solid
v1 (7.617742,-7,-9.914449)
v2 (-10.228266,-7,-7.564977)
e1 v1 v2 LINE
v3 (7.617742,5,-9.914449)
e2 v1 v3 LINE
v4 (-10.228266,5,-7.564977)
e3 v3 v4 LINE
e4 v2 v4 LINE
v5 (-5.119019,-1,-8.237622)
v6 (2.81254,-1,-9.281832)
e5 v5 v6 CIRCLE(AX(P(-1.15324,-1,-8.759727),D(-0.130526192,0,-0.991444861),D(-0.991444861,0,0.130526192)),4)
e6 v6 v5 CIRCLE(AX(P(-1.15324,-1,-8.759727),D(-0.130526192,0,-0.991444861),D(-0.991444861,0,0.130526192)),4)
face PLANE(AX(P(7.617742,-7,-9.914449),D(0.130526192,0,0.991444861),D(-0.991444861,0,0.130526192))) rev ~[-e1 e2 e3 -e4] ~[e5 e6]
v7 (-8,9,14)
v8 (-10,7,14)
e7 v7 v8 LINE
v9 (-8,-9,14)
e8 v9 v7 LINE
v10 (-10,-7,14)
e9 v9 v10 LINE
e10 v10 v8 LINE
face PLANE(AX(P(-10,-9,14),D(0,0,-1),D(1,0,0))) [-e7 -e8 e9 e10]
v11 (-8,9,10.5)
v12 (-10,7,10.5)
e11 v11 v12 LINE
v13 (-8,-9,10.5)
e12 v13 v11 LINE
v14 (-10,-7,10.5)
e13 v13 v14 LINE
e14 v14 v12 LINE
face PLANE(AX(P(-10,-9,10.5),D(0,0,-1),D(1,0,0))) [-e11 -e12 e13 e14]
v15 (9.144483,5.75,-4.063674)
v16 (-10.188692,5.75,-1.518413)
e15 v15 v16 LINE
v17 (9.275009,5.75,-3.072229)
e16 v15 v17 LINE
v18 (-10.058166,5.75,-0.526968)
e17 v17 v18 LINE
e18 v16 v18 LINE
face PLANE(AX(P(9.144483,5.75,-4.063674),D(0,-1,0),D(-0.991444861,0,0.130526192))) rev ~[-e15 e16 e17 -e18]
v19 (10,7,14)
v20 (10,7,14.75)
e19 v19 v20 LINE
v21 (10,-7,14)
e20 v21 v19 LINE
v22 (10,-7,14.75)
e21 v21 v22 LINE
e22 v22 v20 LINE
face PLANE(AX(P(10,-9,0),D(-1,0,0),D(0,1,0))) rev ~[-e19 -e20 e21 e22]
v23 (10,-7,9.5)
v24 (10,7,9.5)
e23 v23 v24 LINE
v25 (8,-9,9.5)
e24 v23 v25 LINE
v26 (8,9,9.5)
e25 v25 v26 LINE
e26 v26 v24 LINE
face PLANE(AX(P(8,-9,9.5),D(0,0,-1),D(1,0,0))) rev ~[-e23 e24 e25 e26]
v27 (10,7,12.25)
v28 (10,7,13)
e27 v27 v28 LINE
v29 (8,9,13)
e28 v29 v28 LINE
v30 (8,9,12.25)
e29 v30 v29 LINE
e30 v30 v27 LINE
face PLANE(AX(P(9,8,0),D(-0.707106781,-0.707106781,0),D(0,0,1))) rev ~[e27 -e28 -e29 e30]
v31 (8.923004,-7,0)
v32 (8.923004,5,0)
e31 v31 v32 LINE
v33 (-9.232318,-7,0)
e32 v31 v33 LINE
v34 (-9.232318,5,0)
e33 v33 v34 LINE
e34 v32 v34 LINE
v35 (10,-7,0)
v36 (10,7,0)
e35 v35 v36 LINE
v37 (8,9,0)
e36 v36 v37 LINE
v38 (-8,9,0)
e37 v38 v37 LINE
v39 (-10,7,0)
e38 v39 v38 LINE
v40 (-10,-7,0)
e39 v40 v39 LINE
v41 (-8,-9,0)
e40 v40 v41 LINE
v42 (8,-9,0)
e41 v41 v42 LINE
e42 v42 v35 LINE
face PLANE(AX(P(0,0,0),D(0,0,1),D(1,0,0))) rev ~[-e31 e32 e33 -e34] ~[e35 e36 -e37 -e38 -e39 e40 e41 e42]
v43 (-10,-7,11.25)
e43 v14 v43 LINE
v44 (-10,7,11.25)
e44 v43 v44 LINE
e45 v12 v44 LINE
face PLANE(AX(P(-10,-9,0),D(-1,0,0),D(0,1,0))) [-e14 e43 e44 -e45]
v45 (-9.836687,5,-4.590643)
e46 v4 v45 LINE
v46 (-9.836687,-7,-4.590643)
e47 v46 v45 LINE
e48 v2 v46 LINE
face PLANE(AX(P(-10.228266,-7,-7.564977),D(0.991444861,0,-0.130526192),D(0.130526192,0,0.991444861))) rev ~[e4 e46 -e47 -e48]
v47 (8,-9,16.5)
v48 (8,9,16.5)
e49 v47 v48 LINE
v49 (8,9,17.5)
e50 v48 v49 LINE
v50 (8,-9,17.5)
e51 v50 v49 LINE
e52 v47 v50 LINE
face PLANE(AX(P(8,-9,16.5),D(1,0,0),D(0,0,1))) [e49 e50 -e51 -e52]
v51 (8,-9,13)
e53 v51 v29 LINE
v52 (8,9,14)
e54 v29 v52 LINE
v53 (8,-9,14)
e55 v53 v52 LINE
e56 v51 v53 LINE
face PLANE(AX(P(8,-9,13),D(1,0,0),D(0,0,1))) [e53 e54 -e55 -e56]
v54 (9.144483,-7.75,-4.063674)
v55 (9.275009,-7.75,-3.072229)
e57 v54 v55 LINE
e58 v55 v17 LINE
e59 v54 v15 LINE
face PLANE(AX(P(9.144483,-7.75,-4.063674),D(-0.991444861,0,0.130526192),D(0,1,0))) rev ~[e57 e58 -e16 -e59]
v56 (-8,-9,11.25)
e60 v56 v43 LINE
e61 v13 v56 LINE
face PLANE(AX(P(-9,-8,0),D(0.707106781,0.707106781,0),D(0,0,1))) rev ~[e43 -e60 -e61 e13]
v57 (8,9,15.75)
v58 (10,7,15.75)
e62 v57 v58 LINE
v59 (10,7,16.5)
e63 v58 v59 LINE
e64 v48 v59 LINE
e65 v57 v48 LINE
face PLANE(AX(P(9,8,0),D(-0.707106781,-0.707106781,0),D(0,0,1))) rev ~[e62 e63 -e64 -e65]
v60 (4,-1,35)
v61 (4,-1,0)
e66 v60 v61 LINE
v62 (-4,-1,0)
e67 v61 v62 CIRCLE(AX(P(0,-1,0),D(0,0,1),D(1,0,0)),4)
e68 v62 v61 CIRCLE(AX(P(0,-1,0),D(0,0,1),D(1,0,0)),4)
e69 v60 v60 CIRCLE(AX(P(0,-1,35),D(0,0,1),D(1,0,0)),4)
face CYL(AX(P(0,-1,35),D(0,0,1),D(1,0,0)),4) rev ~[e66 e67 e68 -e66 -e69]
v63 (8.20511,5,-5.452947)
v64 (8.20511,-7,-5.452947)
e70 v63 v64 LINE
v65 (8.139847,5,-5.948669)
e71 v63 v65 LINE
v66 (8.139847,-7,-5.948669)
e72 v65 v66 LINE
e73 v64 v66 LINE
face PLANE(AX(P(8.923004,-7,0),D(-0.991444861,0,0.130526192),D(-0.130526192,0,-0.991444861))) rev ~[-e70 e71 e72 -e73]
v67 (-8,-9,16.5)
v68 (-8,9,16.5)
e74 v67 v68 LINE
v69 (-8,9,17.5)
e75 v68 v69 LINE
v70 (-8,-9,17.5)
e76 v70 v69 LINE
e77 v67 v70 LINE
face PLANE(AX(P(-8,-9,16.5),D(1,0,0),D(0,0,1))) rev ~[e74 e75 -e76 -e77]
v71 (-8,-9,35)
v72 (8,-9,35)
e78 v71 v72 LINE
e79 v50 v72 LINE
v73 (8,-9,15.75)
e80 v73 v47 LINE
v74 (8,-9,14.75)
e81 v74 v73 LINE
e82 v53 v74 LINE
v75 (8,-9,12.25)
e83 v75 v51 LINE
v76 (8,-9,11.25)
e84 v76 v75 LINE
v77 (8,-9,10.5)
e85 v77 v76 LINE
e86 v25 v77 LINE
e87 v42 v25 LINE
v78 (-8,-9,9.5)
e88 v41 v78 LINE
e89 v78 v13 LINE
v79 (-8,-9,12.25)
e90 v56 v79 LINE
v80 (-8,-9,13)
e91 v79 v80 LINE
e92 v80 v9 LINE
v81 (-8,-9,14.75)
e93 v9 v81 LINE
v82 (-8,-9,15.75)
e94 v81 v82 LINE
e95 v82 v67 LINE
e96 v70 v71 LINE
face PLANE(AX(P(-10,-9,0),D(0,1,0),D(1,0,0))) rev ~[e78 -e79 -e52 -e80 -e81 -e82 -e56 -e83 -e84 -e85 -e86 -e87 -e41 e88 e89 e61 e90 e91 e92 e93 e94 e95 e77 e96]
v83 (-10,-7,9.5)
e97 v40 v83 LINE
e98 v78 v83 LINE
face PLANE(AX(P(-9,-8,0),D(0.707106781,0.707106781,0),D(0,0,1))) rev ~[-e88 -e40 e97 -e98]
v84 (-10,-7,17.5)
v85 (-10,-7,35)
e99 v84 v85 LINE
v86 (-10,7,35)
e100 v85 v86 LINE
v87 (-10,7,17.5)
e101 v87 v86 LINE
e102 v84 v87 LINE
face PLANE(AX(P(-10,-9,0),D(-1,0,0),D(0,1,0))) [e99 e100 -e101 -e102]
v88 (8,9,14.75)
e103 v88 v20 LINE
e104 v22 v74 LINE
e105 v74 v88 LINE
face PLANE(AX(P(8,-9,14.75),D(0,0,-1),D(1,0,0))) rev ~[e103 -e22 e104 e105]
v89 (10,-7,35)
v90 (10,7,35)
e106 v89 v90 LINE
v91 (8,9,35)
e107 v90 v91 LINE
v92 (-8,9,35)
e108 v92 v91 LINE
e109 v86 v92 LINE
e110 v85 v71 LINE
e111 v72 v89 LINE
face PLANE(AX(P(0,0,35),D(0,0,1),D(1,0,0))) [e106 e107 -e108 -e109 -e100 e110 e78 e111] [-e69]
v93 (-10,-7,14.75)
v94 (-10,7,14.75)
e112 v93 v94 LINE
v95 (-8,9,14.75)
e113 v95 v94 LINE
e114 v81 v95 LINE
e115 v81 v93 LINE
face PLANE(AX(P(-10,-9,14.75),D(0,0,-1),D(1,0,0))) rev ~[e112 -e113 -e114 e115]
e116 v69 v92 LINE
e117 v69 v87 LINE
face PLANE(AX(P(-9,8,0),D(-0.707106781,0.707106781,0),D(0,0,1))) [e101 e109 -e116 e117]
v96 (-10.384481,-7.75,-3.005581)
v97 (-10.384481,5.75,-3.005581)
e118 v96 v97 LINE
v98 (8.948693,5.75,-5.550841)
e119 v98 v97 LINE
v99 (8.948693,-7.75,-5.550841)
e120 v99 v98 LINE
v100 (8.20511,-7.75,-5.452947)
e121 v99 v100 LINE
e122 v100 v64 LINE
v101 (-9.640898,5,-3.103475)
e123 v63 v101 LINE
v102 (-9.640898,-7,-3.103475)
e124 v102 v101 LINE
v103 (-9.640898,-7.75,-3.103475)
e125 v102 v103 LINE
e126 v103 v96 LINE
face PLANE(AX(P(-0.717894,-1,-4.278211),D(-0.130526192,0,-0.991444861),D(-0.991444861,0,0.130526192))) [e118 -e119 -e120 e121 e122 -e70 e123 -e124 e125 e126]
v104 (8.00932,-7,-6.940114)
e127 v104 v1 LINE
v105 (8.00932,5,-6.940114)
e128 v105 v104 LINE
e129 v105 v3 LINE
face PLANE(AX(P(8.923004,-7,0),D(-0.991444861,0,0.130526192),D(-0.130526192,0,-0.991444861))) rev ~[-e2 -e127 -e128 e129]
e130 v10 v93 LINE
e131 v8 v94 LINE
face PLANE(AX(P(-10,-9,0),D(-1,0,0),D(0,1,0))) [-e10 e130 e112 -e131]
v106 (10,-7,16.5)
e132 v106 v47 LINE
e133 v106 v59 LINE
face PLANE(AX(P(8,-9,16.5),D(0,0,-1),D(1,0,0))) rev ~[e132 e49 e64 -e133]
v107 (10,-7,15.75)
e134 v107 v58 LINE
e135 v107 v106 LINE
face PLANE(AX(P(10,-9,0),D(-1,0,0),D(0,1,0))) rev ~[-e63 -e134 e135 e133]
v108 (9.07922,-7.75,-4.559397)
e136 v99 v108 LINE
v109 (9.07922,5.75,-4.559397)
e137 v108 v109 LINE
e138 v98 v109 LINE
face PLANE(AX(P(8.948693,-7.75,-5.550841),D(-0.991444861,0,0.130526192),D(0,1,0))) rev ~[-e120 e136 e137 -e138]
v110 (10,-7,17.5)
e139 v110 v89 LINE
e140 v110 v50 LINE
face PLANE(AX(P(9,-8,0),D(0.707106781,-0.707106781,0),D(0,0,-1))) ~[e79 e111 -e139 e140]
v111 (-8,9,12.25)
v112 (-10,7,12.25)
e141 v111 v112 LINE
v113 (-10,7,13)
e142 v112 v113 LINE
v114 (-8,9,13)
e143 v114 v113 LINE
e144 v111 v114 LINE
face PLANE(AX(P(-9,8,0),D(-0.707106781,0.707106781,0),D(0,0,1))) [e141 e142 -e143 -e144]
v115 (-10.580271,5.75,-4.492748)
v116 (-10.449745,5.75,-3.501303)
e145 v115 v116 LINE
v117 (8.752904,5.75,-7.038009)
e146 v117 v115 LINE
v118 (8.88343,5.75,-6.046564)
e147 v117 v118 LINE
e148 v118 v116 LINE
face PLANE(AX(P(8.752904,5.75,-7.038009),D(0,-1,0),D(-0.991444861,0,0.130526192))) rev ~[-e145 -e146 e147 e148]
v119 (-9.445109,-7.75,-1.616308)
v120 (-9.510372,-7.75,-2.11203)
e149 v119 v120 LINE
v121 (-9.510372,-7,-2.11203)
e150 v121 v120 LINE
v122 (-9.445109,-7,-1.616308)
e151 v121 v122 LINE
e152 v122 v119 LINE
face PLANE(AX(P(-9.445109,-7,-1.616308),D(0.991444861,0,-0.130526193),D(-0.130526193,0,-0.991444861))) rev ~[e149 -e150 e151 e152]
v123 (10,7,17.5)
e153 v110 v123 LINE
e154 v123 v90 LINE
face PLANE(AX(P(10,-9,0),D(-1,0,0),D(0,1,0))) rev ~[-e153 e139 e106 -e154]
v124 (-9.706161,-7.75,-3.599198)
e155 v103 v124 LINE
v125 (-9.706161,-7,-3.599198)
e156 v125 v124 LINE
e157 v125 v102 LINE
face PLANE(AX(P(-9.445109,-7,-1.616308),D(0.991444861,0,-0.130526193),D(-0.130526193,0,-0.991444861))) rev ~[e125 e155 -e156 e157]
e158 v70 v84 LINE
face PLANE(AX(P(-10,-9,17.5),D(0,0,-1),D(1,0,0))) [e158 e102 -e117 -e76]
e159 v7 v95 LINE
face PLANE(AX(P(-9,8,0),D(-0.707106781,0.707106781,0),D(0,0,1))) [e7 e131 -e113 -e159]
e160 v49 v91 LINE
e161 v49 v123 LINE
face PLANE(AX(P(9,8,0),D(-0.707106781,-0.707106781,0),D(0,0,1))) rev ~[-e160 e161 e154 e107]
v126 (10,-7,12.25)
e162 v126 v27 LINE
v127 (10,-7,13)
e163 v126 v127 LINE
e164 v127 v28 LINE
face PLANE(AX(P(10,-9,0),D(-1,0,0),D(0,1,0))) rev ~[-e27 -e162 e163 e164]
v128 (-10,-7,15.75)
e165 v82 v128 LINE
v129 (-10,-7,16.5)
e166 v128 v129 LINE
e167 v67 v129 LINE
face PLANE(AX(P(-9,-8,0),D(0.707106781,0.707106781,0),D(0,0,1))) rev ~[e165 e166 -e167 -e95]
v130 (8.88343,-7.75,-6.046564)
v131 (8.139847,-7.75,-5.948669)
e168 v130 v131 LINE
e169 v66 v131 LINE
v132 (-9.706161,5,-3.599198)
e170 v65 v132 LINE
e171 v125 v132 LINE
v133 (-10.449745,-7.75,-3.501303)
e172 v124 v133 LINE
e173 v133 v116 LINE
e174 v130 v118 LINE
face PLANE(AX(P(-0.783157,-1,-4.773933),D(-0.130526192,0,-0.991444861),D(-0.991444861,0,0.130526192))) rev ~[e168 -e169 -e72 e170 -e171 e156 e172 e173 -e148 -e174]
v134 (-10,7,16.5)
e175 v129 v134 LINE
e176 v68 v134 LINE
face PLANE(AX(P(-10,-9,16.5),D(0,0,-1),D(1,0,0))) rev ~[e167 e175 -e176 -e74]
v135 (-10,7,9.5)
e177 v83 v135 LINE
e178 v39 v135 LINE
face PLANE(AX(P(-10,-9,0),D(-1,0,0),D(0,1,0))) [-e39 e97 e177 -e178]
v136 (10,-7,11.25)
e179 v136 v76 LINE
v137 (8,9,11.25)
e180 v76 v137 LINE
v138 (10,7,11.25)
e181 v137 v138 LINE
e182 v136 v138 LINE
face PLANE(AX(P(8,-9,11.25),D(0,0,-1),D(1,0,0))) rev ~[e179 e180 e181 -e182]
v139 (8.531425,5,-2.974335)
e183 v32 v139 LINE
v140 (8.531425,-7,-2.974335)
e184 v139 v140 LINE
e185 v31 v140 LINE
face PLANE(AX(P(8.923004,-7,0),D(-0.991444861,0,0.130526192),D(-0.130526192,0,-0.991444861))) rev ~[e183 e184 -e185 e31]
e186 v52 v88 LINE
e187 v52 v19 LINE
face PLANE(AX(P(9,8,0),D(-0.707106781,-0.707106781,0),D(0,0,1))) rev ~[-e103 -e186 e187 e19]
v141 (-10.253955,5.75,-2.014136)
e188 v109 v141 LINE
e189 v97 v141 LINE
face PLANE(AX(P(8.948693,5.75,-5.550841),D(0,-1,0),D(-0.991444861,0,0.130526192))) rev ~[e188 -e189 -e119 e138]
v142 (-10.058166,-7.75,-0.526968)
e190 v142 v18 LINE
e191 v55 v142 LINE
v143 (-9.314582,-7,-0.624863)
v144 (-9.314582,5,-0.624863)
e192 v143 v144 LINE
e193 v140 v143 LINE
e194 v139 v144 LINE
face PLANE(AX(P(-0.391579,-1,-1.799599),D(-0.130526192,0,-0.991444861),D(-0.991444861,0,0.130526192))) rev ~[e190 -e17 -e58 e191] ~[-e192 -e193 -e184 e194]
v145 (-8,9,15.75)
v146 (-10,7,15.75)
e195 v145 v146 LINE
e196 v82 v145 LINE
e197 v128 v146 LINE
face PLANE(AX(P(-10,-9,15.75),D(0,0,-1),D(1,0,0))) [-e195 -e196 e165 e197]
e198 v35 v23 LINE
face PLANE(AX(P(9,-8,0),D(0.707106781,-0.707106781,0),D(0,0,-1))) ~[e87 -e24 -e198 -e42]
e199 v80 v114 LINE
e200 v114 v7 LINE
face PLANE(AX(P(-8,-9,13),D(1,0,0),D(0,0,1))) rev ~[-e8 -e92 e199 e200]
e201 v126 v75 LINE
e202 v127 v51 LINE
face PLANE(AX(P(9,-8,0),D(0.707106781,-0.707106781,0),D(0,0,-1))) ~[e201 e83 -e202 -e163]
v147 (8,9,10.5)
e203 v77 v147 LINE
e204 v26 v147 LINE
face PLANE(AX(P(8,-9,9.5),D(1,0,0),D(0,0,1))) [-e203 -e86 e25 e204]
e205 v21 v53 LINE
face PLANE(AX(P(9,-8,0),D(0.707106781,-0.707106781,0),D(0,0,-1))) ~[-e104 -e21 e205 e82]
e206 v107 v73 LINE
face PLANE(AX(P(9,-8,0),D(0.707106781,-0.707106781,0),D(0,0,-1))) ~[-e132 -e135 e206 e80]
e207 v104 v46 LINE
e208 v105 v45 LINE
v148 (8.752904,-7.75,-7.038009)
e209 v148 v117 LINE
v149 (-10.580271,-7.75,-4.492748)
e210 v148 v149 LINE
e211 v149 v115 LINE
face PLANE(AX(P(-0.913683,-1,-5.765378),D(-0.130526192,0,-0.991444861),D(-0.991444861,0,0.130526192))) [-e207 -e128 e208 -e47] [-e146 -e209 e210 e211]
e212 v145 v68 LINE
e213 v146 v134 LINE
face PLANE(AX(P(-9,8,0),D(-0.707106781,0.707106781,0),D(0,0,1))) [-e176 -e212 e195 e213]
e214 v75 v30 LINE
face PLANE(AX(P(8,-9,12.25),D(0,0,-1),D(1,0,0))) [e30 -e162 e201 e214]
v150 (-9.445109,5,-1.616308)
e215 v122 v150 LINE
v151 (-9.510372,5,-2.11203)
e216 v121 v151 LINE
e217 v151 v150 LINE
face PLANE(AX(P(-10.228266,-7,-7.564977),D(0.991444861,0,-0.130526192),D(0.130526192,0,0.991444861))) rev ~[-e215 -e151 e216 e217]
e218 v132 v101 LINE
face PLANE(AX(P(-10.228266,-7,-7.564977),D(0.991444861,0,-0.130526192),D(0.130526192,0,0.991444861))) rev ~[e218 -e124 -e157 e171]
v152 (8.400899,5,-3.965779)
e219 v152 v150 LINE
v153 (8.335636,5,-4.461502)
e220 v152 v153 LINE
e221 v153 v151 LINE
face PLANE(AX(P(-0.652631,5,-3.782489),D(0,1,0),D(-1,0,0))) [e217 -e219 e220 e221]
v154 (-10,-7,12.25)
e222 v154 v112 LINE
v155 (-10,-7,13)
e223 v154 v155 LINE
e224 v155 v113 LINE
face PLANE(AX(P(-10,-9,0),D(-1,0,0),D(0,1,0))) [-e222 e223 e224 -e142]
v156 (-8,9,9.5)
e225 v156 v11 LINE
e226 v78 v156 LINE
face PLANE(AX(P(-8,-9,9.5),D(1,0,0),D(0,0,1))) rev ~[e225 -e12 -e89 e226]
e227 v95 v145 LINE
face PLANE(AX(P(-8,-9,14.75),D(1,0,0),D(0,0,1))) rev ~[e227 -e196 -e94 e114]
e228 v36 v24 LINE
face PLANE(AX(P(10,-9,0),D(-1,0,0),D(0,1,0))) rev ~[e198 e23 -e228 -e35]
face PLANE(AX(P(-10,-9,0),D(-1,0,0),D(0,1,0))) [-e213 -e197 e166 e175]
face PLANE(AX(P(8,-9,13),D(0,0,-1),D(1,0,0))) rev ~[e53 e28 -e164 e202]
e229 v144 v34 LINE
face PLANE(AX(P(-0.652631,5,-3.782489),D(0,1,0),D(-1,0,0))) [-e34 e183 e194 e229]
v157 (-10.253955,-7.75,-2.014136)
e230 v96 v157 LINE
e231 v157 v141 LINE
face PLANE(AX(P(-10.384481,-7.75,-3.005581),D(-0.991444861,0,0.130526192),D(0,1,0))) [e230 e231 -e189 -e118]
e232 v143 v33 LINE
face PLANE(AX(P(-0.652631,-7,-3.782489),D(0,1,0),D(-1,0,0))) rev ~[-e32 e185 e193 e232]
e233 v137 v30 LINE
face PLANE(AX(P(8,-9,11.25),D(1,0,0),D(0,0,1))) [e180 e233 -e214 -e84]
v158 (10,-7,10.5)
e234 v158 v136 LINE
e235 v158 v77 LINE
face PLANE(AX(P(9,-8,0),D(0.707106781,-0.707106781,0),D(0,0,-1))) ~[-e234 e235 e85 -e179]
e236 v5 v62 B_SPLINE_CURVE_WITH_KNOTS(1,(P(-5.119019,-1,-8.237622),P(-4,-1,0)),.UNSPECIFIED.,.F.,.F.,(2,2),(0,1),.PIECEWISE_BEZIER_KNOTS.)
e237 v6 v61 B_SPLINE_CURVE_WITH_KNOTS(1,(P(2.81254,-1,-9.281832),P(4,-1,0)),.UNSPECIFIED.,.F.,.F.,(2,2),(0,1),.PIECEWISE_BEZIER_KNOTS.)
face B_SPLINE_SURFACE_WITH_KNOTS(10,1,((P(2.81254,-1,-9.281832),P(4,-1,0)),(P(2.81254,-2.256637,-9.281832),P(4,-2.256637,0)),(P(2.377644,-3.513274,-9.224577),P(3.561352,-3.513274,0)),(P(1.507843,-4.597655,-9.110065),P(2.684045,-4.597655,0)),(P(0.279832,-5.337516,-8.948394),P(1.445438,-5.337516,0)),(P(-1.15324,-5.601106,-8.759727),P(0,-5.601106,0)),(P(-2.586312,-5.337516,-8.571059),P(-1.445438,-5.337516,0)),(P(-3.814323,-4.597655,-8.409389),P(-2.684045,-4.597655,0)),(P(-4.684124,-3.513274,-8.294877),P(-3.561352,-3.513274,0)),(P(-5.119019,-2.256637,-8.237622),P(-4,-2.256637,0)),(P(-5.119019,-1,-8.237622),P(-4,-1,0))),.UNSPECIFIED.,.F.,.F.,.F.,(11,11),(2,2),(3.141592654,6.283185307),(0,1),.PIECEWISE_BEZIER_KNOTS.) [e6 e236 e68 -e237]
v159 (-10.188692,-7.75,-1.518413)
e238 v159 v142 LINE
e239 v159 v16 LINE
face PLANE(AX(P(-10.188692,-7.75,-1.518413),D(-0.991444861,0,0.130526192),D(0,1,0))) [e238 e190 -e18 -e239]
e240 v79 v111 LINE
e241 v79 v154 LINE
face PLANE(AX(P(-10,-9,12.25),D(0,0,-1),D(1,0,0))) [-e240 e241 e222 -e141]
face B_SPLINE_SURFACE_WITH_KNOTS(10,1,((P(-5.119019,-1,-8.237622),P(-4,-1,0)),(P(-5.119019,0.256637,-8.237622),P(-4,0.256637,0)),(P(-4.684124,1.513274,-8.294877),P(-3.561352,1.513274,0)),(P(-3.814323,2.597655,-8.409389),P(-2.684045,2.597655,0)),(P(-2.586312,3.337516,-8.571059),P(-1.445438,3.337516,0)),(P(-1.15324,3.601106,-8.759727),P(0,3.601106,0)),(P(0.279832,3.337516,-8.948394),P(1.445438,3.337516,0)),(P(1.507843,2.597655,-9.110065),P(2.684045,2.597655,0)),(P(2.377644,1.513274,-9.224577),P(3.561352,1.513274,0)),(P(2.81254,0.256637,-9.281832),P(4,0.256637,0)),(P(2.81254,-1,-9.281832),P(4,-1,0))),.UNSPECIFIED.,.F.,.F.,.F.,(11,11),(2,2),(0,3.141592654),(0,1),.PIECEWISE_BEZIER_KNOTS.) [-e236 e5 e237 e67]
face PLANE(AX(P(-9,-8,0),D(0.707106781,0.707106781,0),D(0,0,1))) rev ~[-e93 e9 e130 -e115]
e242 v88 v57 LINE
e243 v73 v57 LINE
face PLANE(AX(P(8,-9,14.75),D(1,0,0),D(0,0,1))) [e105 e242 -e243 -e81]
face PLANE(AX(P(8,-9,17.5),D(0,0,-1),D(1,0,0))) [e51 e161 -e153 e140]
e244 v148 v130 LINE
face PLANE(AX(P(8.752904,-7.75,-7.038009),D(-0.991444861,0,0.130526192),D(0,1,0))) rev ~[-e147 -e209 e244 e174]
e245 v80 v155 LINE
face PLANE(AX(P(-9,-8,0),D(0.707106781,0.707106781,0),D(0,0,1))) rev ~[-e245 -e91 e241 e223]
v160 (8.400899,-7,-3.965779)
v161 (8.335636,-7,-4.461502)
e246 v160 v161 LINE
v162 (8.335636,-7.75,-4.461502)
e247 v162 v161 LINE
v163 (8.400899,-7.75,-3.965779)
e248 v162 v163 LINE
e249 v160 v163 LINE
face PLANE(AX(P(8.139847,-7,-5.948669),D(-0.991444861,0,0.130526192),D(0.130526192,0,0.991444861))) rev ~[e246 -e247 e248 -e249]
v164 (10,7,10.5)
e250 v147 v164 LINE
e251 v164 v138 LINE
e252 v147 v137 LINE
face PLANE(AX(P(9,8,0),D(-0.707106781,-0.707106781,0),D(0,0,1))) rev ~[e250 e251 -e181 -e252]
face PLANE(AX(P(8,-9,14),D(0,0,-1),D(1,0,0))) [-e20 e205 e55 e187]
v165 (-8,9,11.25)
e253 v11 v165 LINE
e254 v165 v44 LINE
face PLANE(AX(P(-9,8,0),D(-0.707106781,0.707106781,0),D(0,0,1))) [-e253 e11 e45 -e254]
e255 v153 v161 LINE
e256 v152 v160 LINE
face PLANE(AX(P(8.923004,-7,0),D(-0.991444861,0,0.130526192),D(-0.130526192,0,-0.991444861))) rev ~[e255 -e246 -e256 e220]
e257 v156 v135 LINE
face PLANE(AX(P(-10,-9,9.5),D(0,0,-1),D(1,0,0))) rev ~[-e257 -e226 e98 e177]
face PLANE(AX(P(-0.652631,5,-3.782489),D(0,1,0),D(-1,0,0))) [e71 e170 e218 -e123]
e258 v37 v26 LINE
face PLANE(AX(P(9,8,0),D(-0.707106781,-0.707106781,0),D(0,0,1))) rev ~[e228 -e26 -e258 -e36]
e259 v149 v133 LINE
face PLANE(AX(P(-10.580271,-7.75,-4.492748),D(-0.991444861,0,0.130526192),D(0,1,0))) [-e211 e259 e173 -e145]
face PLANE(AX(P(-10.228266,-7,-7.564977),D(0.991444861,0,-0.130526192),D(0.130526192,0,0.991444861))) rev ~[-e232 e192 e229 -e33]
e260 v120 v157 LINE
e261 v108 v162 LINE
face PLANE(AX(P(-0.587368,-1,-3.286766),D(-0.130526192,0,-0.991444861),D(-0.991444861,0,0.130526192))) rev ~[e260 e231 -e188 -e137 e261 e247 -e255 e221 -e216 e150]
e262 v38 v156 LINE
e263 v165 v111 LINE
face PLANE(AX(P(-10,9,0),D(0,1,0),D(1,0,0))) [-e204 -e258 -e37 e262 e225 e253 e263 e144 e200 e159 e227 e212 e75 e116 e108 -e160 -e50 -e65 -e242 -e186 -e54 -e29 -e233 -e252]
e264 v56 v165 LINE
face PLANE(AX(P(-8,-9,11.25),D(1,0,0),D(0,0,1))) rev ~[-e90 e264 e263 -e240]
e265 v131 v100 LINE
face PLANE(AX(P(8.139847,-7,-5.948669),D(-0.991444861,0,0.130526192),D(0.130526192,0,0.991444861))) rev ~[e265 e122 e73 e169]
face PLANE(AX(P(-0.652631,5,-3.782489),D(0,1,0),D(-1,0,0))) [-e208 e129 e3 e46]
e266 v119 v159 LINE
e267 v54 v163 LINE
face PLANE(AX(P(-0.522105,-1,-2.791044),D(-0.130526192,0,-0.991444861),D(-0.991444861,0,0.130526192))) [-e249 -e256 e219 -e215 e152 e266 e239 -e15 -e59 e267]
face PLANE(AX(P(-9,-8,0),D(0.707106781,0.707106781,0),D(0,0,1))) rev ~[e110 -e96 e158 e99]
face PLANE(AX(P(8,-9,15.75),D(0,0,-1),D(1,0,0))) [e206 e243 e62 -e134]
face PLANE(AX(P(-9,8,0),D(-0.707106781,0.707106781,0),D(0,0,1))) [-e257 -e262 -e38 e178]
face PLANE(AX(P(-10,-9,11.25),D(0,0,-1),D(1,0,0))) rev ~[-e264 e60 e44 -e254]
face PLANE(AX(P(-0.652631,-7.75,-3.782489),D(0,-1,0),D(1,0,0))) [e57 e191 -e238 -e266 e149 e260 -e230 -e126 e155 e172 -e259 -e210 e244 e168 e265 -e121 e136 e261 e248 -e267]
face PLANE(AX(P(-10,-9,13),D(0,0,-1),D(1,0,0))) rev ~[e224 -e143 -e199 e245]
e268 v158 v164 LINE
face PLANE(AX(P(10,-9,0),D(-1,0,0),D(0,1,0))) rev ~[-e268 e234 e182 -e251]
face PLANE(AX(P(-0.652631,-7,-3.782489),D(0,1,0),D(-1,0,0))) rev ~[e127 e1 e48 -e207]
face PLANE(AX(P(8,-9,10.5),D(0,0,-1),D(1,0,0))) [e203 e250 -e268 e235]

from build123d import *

# Parameters (mm, degrees)
SKETCH1_W           = 20
SKETCH1_H           = 18
BOSS_EXTRUDE1_DEPTH = 35
CHAMFER1_SIZE       = 2
SKETCH4_W           = 2
SKETCH4_H           = 1
CUT_EXTRUDE2_DEPTH  = 19
BOSS_EXTRUDE3_START = -2
BOSS_EXTRUDE3_DEPTH = 12
SKETCH2_R           = 4
CUT_EXTRUDE1_DEPTH  = 35
SKETCH8_R           = 4
SKETCH9_R           = 4
BOSS_EXTRUDE4_START = -6
SKETCH10_W          = 19.5
SKETCH10_H          = 13.5
SKETCH10_R          = 5
BOSS_EXTRUDE4_DEPTH = 1
LPATTERN1_COUNT     = 3
LPATTERN1_PITCH     = 1.5
BOSS_EXTRUDE5_DEPTH = 0.75


with BuildPart() as part:
    # Sketch1 → Boss-Extrude1 (new body)
    with BuildSketch(Plane.XY):
        Rectangle(SKETCH1_W, SKETCH1_H)
    extrude(amount=BOSS_EXTRUDE1_DEPTH)

    # Chamfer1
    chamfer1_edges = [part.edges().sort_by_distance(p)[0] for p in [
        (10, 9, 17.5),
        (10, -9, 17.5),
        (-10, -9, 17.5),
        (-10, 9, 17.5),
    ]]
    chamfer(chamfer1_edges, length=CHAMFER1_SIZE)

    # Sketch4 → Cut-Extrude2 (cut, through all)
    with BuildSketch(Plane.XZ.offset(9)):
        with Locations((-9, 10)):
            Rectangle(SKETCH4_W, SKETCH4_H)
        with Locations((-9, 11.75)):
            Rectangle(SKETCH4_W, SKETCH4_H)
        with Locations((-9, 13.5)):
            Rectangle(SKETCH4_W, SKETCH4_H)
        with Locations((-9, 15.25)):
            Rectangle(SKETCH4_W, SKETCH4_H)
        with Locations((-9, 17)):
            Rectangle(SKETCH4_W, SKETCH4_H)
        with Locations((9, 17)):
            Rectangle(SKETCH4_W, SKETCH4_H)
        with Locations((9, 15.25)):
            Rectangle(SKETCH4_W, SKETCH4_H)
        with Locations((9, 13.5)):
            Rectangle(SKETCH4_W, SKETCH4_H)
        with Locations((9, 11.75)):
            Rectangle(SKETCH4_W, SKETCH4_H)
        with Locations((9, 10)):
            Rectangle(SKETCH4_W, SKETCH4_H)
    extrude(amount=-CUT_EXTRUDE2_DEPTH, mode=Mode.SUBTRACT)

    # Sketch7 → Boss-Extrude3 (add)
    with BuildSketch(Plane.XZ.offset(9).offset(BOSS_EXTRUDE3_START)):
        Polygon((-8.923003752, 2.34947146), (8.923003752, 0), (7.61774183, -9.914448614), (-10.228265675, -7.564977154), align=None)
    extrude(amount=-BOSS_EXTRUDE3_DEPTH)

    # Sketch2 → Cut-Extrude1 (cut)
    with BuildSketch(Plane.XY.offset(35)):
        with Locations((0, -1)):
            Circle(SKETCH2_R)
    extrude(amount=-CUT_EXTRUDE1_DEPTH, mode=Mode.SUBTRACT)

    # Sketch8 → Cut-Loft1 section 0
    with BuildSketch(Plane(origin=(-1.153239932, 0, -8.759726958), x_dir=(-0.991444861, 0, 0.130526192), z_dir=(-0.130526192, 0, -0.991444861))):
        with Locations((0, -1)):
            Circle(SKETCH8_R)
    # Sketch9 → Cut-Loft1 section 1
    with BuildSketch(Plane.XY):
        with Locations((0, -1)):
            Circle(SKETCH9_R)
    loft(mode=Mode.SUBTRACT)

    # Sketch10 → Boss-Extrude4 (add)
    with BuildSketch(Plane(origin=(-1.153239932, 0, -8.759726958), x_dir=(-0.991444861, 0, 0.130526192), z_dir=(-0.130526192, 0, -0.991444861)).offset(BOSS_EXTRUDE4_START)):
        with Locations((0.153333782, -1)):
            Rectangle(SKETCH10_W, SKETCH10_H)
        with Locations((0, -1)):
            Circle(SKETCH10_R, mode=Mode.SUBTRACT)
    boss_extrude4 = extrude(amount=-BOSS_EXTRUDE4_DEPTH)

    # LPattern1: Boss-Extrude4 ×3
    with Locations(*[Vector(-0.130526192, 0, -0.991444861) * (i * LPATTERN1_PITCH) for i in range(1, LPATTERN1_COUNT)]):
        add(boss_extrude4)

    # Sketch11 → Boss-Extrude5 (add)
    with BuildSketch(Plane.XZ.offset(7)):
        Polygon((-9.706160906, -3.599197708), (8.139846599, -5.948669168), (8.400898983, -3.965779445), (-9.445108521, -1.616307986), align=None)
    extrude(amount=BOSS_EXTRUDE5_DEPTH)


solid = part.part
